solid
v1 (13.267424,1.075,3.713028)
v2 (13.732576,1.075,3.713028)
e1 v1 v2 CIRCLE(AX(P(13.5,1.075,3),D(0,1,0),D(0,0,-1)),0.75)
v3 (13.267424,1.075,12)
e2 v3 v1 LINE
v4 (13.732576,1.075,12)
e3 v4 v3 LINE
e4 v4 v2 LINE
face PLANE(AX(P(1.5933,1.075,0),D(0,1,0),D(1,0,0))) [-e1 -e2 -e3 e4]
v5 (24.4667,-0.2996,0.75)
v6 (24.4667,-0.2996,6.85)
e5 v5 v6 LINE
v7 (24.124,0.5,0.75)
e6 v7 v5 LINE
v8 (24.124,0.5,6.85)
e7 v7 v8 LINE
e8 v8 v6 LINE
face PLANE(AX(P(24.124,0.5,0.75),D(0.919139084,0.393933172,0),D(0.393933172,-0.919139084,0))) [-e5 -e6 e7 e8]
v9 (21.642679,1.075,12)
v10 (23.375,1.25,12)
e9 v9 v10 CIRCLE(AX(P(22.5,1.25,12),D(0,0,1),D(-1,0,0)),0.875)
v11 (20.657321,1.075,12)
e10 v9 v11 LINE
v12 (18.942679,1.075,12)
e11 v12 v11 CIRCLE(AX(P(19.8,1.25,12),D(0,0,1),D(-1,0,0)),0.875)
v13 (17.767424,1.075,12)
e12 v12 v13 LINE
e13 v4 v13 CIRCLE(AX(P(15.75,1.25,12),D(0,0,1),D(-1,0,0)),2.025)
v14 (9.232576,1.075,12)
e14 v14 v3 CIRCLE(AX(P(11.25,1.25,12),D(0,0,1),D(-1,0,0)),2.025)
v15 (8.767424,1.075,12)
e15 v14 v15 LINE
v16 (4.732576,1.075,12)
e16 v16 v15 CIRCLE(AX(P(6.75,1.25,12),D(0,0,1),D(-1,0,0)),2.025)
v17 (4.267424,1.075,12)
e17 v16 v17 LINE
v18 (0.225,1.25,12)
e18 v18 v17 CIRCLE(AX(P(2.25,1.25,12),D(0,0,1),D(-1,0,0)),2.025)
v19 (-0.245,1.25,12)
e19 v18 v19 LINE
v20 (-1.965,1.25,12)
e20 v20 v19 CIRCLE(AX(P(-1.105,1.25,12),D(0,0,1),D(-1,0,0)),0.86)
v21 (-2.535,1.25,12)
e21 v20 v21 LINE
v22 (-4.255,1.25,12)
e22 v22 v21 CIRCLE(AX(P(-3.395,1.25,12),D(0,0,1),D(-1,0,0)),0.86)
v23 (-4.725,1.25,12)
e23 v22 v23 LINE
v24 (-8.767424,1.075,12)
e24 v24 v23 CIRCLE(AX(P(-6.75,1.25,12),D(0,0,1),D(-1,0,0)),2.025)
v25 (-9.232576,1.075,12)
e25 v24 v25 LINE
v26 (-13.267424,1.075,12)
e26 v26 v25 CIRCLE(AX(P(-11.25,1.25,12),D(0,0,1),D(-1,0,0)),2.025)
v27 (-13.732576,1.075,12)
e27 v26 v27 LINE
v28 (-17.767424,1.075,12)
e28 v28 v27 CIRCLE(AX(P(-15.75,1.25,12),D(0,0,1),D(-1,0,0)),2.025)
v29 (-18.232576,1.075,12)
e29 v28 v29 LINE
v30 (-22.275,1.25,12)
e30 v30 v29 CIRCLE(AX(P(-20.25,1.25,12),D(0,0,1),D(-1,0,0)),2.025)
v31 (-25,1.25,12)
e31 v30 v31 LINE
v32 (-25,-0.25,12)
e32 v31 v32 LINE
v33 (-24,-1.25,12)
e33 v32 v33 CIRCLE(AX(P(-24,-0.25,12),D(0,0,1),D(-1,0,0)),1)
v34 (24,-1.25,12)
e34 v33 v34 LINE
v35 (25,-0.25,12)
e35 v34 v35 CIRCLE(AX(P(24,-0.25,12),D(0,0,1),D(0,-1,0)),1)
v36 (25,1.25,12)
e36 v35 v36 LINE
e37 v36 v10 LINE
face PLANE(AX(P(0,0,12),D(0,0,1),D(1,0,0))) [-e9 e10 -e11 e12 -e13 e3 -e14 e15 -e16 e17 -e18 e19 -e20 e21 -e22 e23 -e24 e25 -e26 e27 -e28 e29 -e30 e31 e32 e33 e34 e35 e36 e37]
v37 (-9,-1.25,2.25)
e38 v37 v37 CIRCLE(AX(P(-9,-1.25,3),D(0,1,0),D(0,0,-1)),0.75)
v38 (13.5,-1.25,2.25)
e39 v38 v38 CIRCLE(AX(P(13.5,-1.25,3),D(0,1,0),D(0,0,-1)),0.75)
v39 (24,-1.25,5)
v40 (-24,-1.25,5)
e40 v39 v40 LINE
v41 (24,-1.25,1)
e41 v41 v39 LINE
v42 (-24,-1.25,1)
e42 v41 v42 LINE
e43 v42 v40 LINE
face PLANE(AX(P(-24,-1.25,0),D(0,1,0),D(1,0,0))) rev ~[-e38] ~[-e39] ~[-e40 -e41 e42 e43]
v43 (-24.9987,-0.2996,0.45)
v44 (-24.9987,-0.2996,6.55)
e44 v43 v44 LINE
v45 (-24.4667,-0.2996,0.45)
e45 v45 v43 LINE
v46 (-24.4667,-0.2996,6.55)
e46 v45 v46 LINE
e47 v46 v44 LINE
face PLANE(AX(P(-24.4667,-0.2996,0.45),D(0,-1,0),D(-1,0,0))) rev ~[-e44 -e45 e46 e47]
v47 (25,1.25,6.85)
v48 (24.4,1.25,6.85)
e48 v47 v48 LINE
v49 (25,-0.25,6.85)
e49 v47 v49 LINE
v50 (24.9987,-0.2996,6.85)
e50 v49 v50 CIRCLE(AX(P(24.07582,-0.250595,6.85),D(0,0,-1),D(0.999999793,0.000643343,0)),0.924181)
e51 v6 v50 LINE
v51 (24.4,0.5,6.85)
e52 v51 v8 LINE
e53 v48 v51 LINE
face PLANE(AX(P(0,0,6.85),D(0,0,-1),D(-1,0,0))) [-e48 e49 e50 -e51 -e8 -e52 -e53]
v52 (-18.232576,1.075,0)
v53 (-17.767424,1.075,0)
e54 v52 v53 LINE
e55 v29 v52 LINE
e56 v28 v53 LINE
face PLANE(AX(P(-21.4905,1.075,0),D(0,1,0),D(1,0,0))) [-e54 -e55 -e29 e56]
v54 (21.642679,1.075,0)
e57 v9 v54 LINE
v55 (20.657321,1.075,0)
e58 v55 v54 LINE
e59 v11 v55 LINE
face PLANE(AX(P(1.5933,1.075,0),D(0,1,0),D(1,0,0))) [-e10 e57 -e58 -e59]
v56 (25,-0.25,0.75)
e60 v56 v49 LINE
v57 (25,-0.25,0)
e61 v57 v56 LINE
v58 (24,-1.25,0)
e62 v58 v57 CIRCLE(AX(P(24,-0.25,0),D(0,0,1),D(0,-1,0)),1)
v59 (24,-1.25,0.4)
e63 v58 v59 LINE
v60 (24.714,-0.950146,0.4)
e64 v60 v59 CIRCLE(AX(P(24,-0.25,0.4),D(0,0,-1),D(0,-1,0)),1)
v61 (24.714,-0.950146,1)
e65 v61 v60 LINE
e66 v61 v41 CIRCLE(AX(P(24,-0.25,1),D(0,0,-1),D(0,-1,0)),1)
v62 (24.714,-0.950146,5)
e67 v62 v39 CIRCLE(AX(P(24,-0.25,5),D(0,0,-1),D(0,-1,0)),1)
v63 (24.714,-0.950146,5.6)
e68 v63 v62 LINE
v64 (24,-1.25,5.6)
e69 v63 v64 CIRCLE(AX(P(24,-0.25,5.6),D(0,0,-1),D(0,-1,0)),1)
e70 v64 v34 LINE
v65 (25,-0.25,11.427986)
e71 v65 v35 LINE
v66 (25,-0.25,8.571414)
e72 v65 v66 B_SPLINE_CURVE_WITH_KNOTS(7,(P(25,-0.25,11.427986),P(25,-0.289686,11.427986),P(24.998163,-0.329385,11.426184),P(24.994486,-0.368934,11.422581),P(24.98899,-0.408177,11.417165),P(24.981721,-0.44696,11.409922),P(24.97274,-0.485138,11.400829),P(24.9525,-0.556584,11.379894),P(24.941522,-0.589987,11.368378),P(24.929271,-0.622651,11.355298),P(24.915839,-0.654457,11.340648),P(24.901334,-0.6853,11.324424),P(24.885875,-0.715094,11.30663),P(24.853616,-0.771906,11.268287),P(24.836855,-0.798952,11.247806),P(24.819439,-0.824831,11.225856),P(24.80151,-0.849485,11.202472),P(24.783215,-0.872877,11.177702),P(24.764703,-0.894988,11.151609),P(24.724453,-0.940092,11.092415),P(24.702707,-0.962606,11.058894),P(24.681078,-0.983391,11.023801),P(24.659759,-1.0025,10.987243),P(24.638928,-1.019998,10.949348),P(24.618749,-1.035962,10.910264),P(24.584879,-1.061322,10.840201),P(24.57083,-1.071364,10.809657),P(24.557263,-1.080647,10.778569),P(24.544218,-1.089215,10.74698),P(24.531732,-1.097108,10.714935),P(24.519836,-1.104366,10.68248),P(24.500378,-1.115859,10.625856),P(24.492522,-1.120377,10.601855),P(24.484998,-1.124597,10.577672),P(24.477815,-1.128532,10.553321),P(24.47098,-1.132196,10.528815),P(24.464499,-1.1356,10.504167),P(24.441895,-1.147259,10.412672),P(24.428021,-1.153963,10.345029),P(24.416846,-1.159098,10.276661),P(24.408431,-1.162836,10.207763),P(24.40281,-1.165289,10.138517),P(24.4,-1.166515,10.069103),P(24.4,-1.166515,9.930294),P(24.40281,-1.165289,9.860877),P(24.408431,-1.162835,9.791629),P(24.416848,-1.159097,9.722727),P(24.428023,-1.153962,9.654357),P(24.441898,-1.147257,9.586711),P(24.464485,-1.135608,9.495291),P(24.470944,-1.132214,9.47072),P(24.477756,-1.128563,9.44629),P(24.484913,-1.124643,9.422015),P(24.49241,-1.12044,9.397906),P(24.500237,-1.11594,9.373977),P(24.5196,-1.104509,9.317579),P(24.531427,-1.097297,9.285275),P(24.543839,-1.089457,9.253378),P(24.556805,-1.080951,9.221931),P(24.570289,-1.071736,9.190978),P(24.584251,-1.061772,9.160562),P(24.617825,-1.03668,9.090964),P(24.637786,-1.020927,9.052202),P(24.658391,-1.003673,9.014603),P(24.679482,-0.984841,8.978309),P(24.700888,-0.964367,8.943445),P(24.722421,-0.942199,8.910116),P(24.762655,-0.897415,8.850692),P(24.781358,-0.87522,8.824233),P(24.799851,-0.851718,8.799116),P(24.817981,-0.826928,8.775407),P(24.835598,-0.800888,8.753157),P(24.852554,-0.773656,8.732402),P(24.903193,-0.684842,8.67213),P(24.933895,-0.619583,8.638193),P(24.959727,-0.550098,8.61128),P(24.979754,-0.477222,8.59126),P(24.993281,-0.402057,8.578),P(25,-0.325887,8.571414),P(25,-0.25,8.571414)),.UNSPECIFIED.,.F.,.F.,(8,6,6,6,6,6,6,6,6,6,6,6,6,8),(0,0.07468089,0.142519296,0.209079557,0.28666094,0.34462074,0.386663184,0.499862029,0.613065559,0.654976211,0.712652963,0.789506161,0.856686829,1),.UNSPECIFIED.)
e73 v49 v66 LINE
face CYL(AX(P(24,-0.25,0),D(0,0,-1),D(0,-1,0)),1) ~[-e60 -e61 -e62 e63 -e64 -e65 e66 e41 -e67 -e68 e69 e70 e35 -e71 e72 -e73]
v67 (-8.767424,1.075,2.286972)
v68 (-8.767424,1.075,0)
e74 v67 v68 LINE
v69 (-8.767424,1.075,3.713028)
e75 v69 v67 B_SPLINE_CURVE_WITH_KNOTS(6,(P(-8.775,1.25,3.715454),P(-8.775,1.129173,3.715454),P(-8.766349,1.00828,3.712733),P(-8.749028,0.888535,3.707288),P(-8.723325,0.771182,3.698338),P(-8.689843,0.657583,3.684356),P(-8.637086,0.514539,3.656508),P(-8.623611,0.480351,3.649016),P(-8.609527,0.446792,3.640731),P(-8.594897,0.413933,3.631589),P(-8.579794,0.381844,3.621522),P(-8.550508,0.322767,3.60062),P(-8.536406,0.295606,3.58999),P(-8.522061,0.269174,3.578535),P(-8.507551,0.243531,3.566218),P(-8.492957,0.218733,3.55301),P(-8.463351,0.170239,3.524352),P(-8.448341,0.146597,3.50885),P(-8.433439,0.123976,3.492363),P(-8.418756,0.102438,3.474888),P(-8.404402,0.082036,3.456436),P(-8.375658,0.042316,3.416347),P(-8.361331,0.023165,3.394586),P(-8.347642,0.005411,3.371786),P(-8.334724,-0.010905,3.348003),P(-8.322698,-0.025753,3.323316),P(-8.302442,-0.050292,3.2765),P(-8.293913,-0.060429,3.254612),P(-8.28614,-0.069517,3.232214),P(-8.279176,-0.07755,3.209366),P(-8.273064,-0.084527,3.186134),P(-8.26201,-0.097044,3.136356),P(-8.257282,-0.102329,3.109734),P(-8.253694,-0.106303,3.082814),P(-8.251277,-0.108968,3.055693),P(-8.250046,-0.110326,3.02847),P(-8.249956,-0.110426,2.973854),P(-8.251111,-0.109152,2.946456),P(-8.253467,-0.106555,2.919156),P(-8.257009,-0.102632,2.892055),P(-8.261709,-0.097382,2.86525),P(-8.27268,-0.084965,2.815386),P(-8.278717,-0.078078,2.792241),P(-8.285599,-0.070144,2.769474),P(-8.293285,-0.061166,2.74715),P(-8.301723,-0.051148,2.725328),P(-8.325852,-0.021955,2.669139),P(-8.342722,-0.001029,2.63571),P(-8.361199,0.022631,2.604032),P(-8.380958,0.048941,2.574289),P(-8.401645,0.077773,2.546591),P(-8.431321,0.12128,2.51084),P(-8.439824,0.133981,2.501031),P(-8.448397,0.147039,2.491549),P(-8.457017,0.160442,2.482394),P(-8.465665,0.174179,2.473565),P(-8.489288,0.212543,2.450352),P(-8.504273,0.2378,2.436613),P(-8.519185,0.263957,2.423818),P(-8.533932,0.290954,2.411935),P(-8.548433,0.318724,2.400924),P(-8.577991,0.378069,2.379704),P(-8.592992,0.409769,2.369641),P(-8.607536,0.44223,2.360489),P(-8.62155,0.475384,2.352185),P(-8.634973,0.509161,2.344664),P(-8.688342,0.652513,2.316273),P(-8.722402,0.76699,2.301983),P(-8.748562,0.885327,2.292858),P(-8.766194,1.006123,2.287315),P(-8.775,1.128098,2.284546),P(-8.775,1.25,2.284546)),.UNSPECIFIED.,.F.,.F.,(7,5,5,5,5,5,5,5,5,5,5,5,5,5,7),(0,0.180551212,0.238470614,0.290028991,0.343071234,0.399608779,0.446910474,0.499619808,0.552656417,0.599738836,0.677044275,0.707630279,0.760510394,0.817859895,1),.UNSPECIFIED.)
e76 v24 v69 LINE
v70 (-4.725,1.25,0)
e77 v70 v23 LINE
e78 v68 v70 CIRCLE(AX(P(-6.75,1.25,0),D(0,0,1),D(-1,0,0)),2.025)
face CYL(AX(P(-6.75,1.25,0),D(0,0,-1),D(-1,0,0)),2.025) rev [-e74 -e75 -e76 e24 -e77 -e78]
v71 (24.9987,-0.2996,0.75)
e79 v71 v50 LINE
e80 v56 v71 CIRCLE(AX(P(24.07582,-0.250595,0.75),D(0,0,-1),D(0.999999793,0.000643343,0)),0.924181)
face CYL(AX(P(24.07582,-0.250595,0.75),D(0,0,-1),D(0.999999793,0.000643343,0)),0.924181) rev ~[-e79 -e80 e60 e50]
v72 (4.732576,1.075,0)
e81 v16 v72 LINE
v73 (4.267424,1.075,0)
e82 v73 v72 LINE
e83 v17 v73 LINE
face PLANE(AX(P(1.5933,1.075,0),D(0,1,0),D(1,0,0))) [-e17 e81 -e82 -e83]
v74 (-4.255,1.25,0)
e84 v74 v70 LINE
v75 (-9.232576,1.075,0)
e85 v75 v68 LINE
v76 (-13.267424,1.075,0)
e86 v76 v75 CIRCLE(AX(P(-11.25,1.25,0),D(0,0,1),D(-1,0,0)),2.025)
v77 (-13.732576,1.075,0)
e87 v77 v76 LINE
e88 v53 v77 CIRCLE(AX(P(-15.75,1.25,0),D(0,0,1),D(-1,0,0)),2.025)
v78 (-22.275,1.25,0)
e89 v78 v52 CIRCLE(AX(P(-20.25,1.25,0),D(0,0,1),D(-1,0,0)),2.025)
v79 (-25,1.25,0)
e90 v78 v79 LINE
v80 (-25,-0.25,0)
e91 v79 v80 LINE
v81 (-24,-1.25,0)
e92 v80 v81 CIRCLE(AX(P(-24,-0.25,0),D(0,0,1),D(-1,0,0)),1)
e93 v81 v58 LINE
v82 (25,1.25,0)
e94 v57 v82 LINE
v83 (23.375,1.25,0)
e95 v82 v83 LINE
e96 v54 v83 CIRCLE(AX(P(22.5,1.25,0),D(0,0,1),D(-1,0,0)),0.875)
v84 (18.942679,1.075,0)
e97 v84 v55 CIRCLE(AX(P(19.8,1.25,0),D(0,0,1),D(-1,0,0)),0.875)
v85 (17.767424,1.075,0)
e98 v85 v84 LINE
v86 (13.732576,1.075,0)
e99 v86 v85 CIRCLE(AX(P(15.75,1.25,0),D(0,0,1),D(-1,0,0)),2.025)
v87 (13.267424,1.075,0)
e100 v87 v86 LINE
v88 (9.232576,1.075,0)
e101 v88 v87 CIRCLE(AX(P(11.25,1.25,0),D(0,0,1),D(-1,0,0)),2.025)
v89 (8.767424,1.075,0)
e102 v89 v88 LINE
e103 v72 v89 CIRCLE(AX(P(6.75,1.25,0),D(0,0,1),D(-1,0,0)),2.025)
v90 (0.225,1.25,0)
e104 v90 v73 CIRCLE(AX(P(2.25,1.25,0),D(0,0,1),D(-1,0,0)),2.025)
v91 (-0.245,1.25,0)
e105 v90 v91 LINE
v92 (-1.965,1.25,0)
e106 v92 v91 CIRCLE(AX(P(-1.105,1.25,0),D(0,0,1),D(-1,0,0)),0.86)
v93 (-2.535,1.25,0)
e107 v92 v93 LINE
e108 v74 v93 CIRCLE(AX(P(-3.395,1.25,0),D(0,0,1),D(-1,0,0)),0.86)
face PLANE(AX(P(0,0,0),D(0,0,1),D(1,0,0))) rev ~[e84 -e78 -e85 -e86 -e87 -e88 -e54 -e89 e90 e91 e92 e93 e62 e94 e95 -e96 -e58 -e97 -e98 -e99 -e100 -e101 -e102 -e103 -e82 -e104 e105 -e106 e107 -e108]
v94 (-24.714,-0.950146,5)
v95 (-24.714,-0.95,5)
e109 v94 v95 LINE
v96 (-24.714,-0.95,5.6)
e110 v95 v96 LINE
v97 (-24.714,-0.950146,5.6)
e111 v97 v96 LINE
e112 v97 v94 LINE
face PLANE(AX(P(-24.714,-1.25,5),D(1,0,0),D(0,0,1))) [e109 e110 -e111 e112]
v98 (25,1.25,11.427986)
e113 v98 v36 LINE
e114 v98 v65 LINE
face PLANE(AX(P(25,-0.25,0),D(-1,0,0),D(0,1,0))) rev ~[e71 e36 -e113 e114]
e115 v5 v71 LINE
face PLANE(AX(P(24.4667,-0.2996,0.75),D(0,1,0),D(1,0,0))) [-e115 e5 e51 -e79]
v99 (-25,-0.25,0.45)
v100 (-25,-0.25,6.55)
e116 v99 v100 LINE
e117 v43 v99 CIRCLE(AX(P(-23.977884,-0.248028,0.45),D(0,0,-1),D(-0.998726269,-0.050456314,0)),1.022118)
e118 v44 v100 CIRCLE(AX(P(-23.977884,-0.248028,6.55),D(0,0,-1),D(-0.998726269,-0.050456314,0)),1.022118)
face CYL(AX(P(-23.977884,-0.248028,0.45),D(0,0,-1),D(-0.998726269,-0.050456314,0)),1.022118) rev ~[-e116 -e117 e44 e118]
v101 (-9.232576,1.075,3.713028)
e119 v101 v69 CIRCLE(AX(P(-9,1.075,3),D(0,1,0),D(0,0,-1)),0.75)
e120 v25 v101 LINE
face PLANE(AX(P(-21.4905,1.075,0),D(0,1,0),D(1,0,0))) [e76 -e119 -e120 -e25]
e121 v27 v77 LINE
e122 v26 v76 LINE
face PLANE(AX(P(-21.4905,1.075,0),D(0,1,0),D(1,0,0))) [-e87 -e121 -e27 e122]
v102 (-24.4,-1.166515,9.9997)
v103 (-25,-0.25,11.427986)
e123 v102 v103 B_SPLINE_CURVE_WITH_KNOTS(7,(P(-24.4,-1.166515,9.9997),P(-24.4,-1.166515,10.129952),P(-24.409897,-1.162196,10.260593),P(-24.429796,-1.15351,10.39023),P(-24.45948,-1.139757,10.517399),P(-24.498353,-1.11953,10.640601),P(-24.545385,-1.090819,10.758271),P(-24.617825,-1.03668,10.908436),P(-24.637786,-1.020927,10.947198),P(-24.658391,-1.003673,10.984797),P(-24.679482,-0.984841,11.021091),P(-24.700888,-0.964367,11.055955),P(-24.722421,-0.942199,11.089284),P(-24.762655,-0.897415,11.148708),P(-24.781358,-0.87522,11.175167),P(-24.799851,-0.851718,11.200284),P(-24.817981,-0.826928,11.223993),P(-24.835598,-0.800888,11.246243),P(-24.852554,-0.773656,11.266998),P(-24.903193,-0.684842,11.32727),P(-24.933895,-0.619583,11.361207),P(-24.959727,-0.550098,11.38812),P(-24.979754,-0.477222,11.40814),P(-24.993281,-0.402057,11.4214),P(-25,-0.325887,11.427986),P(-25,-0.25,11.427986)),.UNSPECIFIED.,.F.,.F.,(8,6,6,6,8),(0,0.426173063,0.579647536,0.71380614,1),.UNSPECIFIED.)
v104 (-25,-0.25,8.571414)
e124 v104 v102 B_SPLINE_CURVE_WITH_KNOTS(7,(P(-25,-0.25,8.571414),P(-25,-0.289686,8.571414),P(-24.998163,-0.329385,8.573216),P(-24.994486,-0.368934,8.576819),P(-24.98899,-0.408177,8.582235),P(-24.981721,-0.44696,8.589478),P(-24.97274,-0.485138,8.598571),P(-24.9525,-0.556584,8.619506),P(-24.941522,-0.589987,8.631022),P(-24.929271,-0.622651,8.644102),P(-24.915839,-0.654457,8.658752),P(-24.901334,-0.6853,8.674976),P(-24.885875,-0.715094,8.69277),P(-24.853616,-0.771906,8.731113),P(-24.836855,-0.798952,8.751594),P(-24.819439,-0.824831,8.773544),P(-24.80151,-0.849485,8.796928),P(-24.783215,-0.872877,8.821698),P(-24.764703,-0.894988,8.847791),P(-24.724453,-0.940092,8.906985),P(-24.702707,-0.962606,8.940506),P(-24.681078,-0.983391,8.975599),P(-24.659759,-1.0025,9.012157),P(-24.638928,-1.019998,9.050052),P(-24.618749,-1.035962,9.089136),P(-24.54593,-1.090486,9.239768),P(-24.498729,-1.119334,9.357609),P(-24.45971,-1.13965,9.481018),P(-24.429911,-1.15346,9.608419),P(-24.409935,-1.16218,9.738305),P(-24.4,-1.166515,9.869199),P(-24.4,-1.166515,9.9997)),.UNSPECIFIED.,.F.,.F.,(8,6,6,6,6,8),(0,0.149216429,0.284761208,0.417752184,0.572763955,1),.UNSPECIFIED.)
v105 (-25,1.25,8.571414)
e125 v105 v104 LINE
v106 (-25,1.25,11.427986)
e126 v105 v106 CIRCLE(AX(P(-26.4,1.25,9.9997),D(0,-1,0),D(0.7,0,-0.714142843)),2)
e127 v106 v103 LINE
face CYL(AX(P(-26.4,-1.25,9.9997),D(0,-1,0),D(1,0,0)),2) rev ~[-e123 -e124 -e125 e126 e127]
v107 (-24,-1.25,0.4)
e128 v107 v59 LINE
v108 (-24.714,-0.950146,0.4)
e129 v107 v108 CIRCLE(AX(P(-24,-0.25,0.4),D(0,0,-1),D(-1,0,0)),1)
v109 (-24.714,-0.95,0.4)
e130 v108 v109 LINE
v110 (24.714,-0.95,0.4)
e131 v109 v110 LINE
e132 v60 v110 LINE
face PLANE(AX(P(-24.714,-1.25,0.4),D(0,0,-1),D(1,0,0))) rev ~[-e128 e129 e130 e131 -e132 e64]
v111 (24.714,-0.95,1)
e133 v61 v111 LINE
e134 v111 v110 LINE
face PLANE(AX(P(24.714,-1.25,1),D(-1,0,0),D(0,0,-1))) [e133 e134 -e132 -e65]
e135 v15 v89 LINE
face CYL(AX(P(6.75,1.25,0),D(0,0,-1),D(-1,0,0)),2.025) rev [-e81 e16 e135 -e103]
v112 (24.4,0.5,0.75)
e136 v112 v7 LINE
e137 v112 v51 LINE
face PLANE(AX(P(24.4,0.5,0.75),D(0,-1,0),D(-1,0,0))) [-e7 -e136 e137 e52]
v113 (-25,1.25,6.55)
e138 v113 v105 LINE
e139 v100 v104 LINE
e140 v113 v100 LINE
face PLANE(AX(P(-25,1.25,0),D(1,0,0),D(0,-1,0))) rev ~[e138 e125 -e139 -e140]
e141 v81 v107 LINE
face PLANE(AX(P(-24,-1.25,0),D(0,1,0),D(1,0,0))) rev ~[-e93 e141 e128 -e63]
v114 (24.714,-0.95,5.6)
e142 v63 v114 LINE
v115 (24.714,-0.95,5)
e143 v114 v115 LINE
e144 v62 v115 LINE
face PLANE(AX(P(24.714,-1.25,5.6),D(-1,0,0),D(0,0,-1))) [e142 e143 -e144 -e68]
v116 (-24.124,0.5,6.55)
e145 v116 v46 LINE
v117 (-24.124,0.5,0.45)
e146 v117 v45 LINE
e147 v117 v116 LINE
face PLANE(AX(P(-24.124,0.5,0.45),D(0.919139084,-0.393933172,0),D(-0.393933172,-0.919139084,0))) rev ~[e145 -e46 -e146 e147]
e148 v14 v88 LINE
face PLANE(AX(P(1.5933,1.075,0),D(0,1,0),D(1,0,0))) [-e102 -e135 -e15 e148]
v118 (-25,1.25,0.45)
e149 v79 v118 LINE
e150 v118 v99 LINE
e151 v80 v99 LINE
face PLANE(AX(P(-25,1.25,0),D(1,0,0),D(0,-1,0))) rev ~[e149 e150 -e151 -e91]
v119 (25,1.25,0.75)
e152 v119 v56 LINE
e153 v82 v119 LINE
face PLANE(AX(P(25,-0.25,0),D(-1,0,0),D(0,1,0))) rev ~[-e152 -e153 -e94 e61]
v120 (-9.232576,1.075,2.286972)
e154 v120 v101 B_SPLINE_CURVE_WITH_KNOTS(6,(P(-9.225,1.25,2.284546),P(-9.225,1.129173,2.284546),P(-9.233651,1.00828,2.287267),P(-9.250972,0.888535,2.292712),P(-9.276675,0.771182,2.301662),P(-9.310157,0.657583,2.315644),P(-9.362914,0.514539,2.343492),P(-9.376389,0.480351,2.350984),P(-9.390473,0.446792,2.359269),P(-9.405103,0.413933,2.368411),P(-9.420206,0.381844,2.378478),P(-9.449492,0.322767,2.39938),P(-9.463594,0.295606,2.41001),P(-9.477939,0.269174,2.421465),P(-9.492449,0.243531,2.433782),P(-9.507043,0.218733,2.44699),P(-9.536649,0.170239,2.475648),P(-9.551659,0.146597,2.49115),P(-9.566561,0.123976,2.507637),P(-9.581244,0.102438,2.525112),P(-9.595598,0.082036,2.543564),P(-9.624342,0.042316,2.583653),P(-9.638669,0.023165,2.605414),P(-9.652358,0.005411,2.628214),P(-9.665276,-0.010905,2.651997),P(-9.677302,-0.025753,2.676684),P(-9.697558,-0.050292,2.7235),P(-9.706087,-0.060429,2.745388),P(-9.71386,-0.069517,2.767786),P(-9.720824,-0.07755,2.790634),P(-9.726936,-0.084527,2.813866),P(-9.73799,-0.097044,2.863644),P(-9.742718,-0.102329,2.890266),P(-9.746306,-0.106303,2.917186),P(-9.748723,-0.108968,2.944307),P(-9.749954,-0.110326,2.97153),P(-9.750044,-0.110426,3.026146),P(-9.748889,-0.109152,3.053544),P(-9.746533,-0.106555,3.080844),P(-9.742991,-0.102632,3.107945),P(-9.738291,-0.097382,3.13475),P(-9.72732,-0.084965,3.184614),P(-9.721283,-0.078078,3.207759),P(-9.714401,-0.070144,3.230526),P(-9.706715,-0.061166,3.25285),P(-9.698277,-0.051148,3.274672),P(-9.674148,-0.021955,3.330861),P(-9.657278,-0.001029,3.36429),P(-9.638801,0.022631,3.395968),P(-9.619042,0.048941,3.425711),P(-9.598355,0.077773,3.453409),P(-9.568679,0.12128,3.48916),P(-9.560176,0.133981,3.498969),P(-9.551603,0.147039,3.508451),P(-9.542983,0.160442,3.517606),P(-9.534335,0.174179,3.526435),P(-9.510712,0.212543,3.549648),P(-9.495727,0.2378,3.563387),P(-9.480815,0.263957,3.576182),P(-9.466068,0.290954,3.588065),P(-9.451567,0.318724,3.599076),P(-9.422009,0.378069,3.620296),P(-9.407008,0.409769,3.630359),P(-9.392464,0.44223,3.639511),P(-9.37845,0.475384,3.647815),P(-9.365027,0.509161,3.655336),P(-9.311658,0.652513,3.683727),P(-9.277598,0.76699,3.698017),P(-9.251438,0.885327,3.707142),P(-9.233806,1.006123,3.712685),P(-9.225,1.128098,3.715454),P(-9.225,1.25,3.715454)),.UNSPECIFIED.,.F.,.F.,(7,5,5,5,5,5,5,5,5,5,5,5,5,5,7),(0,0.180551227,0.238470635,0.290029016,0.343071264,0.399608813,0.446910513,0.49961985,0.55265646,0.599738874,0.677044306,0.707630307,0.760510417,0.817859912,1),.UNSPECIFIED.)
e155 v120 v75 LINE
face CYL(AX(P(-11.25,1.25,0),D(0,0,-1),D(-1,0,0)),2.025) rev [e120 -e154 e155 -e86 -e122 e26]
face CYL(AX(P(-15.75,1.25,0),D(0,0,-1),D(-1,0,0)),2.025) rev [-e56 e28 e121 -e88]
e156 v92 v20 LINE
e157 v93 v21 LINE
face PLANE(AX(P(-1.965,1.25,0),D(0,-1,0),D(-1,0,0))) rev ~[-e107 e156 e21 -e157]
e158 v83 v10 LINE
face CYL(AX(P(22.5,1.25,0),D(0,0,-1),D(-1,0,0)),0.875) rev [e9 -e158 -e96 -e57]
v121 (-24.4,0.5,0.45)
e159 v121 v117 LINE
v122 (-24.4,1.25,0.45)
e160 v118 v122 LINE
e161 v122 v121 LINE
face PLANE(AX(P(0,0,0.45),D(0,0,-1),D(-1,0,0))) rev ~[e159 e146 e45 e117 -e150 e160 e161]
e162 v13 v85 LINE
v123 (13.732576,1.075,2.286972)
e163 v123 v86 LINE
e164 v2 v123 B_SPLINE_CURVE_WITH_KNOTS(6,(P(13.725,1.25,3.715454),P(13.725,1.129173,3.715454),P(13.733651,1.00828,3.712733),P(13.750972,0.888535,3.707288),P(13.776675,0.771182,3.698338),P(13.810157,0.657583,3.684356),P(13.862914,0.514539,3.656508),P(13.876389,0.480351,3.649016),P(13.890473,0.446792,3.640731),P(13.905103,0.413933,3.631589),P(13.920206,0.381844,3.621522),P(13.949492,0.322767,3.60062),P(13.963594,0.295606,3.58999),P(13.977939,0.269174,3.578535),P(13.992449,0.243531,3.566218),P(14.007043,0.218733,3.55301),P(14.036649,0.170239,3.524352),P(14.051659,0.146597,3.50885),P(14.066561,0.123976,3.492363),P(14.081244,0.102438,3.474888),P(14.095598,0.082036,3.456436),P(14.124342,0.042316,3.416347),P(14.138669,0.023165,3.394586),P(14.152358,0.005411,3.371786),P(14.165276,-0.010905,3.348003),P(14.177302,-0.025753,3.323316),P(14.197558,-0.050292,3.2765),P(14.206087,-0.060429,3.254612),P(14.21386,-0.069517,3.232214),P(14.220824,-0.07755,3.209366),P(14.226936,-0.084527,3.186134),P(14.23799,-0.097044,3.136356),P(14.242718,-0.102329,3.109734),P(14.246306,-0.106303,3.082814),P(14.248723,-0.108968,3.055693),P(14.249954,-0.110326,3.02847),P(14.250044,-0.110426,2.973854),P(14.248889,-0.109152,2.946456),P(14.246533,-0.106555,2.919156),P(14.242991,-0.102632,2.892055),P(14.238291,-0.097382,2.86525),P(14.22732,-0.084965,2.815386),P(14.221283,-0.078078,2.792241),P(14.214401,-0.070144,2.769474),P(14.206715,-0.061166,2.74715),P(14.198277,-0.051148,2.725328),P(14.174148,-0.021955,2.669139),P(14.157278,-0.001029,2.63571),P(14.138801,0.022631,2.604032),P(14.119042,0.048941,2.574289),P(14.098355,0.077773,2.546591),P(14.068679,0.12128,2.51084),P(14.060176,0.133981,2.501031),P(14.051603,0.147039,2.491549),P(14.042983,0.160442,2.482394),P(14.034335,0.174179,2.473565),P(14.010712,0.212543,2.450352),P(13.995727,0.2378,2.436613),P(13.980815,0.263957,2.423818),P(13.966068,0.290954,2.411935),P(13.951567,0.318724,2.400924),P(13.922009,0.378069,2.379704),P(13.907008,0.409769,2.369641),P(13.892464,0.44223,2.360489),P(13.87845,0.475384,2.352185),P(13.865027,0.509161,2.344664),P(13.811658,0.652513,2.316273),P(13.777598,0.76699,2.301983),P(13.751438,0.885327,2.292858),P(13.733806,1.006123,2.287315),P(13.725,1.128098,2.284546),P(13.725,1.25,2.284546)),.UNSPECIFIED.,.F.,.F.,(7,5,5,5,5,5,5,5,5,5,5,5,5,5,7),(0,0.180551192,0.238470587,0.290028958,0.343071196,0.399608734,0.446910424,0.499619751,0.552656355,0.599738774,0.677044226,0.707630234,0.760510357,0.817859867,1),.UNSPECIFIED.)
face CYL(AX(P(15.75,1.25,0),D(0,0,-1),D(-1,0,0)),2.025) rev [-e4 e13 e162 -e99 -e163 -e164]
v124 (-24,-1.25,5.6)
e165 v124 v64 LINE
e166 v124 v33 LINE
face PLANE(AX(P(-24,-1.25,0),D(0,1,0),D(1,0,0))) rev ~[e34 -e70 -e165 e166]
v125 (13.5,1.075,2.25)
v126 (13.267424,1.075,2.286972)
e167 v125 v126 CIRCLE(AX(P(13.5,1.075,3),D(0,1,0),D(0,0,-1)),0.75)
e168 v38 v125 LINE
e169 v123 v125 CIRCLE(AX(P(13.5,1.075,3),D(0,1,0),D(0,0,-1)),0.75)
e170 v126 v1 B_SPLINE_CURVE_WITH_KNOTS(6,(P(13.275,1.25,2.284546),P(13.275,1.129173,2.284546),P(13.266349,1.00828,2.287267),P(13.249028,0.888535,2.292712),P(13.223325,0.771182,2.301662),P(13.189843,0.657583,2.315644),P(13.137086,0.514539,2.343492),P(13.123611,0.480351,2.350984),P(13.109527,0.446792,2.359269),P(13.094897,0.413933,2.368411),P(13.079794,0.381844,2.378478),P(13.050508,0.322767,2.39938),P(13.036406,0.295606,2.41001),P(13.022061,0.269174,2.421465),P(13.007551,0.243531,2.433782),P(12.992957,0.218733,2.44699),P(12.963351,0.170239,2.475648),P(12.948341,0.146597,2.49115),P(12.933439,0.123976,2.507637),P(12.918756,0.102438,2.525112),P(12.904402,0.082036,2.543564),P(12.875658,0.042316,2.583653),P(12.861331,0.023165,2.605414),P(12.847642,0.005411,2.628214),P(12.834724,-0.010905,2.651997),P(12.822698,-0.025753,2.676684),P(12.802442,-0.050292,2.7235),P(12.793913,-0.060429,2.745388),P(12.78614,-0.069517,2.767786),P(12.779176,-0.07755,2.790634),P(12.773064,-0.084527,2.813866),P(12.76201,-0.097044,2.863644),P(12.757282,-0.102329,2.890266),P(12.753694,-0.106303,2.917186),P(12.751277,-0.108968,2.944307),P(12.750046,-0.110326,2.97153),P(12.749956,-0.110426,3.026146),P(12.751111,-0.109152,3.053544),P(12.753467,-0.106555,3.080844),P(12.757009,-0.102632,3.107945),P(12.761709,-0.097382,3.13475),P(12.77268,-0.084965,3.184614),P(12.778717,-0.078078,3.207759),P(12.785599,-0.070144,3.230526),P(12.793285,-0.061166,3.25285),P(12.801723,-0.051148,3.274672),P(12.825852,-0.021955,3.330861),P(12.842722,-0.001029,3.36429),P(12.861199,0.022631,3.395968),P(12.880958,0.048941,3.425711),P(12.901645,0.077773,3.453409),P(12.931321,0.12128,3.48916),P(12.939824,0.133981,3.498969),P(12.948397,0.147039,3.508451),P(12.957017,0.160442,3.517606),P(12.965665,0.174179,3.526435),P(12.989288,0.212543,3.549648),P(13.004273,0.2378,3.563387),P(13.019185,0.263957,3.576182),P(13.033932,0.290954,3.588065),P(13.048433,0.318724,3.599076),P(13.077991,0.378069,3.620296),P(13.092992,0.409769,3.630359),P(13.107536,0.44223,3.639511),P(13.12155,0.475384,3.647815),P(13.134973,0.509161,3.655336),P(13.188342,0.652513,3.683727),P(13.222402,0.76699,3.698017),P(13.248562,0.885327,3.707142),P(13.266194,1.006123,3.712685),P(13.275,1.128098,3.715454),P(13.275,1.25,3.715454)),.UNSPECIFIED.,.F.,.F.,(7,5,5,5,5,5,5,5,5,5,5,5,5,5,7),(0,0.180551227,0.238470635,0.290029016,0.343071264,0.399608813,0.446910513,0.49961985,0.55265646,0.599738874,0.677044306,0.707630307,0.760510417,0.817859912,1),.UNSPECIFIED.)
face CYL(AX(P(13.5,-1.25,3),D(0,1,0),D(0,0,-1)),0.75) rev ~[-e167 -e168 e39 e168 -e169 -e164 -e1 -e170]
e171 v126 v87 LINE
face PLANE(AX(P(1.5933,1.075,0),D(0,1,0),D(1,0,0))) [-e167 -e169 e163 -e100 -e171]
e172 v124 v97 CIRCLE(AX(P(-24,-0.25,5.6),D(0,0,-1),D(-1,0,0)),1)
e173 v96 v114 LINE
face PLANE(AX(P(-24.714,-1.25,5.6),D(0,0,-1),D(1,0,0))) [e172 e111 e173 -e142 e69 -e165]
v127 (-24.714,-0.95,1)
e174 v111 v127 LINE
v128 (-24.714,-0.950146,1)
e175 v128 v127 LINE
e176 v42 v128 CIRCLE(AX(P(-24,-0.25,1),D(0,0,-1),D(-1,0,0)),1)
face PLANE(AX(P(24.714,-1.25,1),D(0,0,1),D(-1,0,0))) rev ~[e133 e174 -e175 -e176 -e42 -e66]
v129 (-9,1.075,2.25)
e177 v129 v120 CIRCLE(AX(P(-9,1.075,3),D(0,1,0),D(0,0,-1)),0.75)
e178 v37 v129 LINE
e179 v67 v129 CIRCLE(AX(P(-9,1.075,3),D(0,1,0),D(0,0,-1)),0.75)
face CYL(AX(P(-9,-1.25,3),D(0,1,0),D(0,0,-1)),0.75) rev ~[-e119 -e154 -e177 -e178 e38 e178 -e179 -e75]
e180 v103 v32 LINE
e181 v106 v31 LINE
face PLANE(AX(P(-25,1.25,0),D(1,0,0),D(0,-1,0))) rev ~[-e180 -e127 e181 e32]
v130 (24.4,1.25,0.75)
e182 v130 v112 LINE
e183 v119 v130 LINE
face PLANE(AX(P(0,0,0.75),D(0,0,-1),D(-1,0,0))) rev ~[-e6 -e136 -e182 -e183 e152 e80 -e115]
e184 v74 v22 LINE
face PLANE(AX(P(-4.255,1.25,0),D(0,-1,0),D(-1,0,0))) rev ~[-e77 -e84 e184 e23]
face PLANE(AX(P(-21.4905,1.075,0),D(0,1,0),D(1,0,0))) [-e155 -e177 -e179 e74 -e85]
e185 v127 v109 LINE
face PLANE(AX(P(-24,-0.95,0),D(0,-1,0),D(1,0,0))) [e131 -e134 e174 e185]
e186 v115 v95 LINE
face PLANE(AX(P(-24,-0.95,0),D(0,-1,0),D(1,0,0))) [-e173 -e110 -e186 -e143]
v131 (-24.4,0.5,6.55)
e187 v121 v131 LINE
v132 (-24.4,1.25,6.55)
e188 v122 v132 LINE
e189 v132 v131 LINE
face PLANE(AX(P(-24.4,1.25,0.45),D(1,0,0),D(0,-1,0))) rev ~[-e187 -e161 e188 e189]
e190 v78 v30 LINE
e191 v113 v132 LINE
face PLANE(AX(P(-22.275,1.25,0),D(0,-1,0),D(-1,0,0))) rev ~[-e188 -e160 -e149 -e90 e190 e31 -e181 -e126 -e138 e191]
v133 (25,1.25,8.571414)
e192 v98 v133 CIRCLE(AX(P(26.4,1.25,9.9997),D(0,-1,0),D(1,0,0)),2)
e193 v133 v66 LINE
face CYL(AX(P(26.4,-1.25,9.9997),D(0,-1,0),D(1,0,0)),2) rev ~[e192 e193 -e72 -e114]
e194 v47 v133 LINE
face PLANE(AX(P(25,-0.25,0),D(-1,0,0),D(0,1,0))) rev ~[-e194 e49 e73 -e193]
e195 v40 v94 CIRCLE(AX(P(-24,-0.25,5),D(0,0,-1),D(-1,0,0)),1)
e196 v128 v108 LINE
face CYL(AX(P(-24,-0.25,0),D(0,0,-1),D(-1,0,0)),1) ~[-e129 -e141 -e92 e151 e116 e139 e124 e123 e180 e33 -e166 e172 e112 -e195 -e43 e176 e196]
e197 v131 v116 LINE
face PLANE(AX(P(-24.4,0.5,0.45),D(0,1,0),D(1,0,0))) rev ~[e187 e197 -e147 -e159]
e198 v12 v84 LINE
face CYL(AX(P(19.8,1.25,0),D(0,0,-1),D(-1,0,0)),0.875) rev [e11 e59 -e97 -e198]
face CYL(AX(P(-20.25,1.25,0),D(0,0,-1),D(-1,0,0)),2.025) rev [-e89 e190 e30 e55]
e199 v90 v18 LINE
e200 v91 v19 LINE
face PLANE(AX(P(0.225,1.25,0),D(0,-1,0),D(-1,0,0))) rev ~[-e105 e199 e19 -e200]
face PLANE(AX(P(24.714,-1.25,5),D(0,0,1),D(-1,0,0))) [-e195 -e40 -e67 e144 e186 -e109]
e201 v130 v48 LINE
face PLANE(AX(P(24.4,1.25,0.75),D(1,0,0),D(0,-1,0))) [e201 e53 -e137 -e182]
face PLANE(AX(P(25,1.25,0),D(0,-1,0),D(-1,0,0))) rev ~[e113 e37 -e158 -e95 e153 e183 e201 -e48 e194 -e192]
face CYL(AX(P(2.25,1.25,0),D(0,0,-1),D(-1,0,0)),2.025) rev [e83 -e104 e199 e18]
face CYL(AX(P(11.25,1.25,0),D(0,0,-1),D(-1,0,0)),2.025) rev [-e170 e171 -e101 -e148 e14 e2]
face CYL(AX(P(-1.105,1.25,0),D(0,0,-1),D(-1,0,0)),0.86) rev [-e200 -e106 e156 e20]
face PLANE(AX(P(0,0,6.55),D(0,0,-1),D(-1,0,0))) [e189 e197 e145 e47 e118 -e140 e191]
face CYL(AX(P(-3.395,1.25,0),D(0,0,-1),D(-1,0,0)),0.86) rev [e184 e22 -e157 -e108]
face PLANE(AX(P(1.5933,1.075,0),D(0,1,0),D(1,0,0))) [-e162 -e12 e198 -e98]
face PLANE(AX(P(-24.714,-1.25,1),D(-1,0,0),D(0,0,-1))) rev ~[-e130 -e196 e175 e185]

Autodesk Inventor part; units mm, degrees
sketch "Sketch1" plane through (0, 0, 0) normal (0, 0, 1) x (1, 0, 0)
  line L0 (-25, 1.25) -> (-25, -0.25)
  line L1 (-24, -1.25) -> (24, -1.25)
  line L2 (25, -0.25) -> (25, 1.25)
  line L3 (25, 1.25) -> (-25, 1.25)
  line L4 (0, 0) -> (0, 5.9906) construction
  line L5 (0, 0) -> (2.2727, 0) construction
  arc A0 (-17.775, 1.25) -> (-13.725, 1.25) centre (-15.75, 1.25) ccw
  arc A1 (-13.275, 1.25) -> (-9.225, 1.25) centre (-11.25, 1.25) ccw
  arc A2 (-8.775, 1.25) -> (-4.725, 1.25) centre (-6.75, 1.25) ccw
  arc A3 (-4.255, 1.25) -> (-2.535, 1.25) centre (-3.395, 1.25) ccw
  arc A4 (-1.965, 1.25) -> (-0.245, 1.25) centre (-1.105, 1.25) ccw
  arc A5 (0.225, 1.25) -> (4.275, 1.25) centre (2.25, 1.25) ccw
  arc A6 (4.725, 1.25) -> (8.775, 1.25) centre (6.75, 1.25) ccw
  arc A7 (9.225, 1.25) -> (13.275, 1.25) centre (11.25, 1.25) ccw
  arc A8 (13.725, 1.25) -> (17.775, 1.25) centre (15.75, 1.25) ccw
  arc A9 (18.925, 1.25) -> (20.675, 1.25) centre (19.8, 1.25) ccw
  arc A10 (21.625, 1.25) -> (23.375, 1.25) centre (22.5, 1.25) ccw
  arc A11 (-25, -0.25) -> (-24, -1.25) centre (-24, -0.25) ccw
  arc A12 (24, -1.25) -> (25, -0.25) centre (24, -0.25) ccw
  arc A13 (-22.275, 1.25) -> (-18.225, 1.25) centre (-20.25, 1.25) ccw
  point P0 (-25, -1.25)
  point P1 (25, -1.25)
  dimension "d0" = 2.5
  dimension "d1" = 50
  dimension "d2" = 90
  dimension "d4" = 4.05
  dimension "d5" = 4.05
  dimension "d6" = 4.05
  dimension "d7" = 1.72
  dimension "d8" = 1.72
  dimension "d9" = 4.05
  dimension "d10" = 4.05
  dimension "d11" = 4.05
  dimension "d12" = 4.05
  dimension "d13" = 1.75
  dimension "d14" = 1.75
  dimension "d16" = 4.5
  dimension "d17" = 4.5
  dimension "d18" = 3.355
  dimension "d19" = 2.29
  dimension "d20" = 3.355
  dimension "d21" = 4.5
  dimension "d22" = 4.5
  dimension "d23" = 4.5
  dimension "d25" = 2.7
  dimension "d26" = 1
  dimension "d51" = 2.5
  dimension "d52" = 4.05
  dimension "d53" = 4.5
  dimension "d101" = 4.05
extrude "Extrusion1" add sketch "Sketch1" along normal blind 12 contours L3 A13 A0 A1 A2 A3 A4 A5 A6 A7 A8 A9 A10 L2 A12 L1 A11 L0
sketch "Sketch2" plane through (-24, -1.25, 0) normal (0, -1, 0) x (1, 0, 0)
  line L0 (49, 0) -> (49, 12) projected
  line L1 (-1, 0) -> (-1, 12) projected
  line L2 (0, 0) -> (48, 0) projected
  line L3 (-0.714, 0.4) -> (48.714, 0.4)
  line L4 (48.714, 1) -> (-0.714, 1)
  line L5 (48.714, 5) -> (-0.714, 5)
  line L6 (-0.714, 5) -> (-0.714, 5.6)
  line L7 (-0.714, 5.6) -> (48.714, 5.6)
  line L8 (48.714, 5.6) -> (48.714, 5)
  line L9 (-0.714, 1) -> (-0.714, 0.4)
  line L10 (48.714, 1) -> (48.714, 0.4)
  point P0 (24, 0)
  point P1 (37.5, 3)
  point P2 (15, 3)
  point P3 (48.714, 5.3)
  dimension "d29" = 11.5
  dimension "d30" = 22.5
  dimension "d32" = 3
  dimension "d33" = 0.6
  dimension "d34" = 0.6
  dimension "d35" = 0.4
  dimension "d36" = 4
  dimension "d48" = 0.286
  dimension "d49" = 0.6
  dimension "d50" = 0.286
hole "Hole1" at (13.5, -1.25, 3) at (-9, -1.25, 3) direction (0, 1, 0) diameter 1.5 end through all
extrude "Extrusion3" cut sketch "Sketch2" against normal blind 0.3
sketch "Sketch3" plane through (0, 0, 0) normal (0, 0, -1) x (-1, 0, 0)
  line L0 (-23, 1.25) -> (-1.5933, 1.25)
  line L1 (-1.5933, 1.25) -> (-1.5933, 1.075)
  line L2 (-1.5933, 1.075) -> (-23, 1.075)
  line L3 (-23, 1.075) -> (-23, 1.25)
  line L4 (7.4905, 1.25) -> (21.4905, 1.25)
  line L5 (21.4905, 1.25) -> (21.4905, 1.075)
  line L6 (21.4905, 1.075) -> (7.4905, 1.075)
  line L7 (7.4905, 1.075) -> (7.4905, 1.25)
  line L8 (8.775, 1.25) -> (9.225, 1.25) projected
  line L9 (-25, -0.25) -> (-25, 1.25) projected
  line L10 (25, 1.25) -> (25, -0.25) projected
  point P0 (0, 0)
  point P1 (9, 1.25)
  dimension "d54" = 0.175
  dimension "d55" = 0.175
  dimension "d56" = 14
  dimension "d57" = 21.4067
  dimension "d58" = 2
  dimension "d59" = 3.5095
extrude "Extrusion4" cut sketch "Sketch3" against normal blind 25.3
ref_plane "Work Plane1" through (0, 0, 1.25) normal (0, 0, -1) x (-1, 0, 0)
sketch "Sketch5" plane through (-24, -1.25, 12) normal (0, -1, 0) x (1, 0, 0)
  circle A0 centre (-2.4, -2.0003) radius 2
  circle A1 centre (50.4, -2.0003) radius 2
  line L0 (-1, -12) -> (-1, 0) projected
  line L1 (-1, 0) -> (-1, -0.572)
  line L2 (49, -12) -> (49, 0) projected
  line L3 (49, 0) -> (49, -0.572)
  point P0 (24, -12)
  dimension "d71" = 4
  dimension "d72" = 4
  dimension "d73" = 0.572
  dimension "d74" = 0.572
  dimension "d75" = 1.4
  dimension "d76" = 1.4
extrude "Extrusion6" cut sketch "Sketch5" against normal blind 4
ref_plane "Work Plane2" through (0, 0, 0.75) normal (0, 0, -1) x (-1, 0, 0)
sketch "Sketch6" plane through (0, 0, 0.75) normal (0, 0, -1) x (-1, 0, 0)
  line L0 (-25, 1.25) -> (-23.375, 1.25) projected
  line L1 (-25, 1.25) -> (-24.4, 1.25)
  line L2 (-24.4, 1.25) -> (-24.4, 0.5)
  line L3 (-24.4, 0.5) -> (-24.124, 0.5)
  line L4 (-24.124, 0.5) -> (-24.4667, -0.2996)
  line L5 (-24.124, 0.5) -> (-23.254, 0.5) construction
  line L6 (-24.4667, -0.2996) -> (-24.9987, -0.2996)
  line L7 (-24.4667, -0.2996) -> (-24.4, -0.2996) construction
  line L8 (-25, 1.25) -> (-25, -0.25) projected
  line L9 (-25, -0.25) -> (-25, 1.25) projected
  line L10 (-25, 1.25) -> (-25, -0.25)
  line L11 (-24.4, -0.2996) -> (-24.365, -0.2996)
  arc A0 (-24.714, -0.9501) -> (-24, -1.25) centre (-24, -0.25) ccw projected
  arc A1 (-25, -0.25) -> (-24.9987, -0.2996) centre (-24.0293, -0.25) ccw
  point P0 (0, 0)
  dimension "d80" = 0.6
  dimension "d81" = 0.75
  dimension "d82" = 0.276
  dimension "d83" = 113.2
  dimension "d84" = 0.87
  dimension "d86" = 0.532
  dimension "d87" = 180
extrude "Extrusion7" cut sketch "Sketch6" against normal blind 6.1
ref_plane "Work Plane3" through (0, 0, 0.45) normal (0, 0, -1) x (-1, 0, 0)
sketch "Sketch7" plane through (0, 0, 0.45) normal (0, 0, -1) x (-1, 0, 0)
  line L0 (-25, 1.25) -> (-24.25, 1.25)
  line L1 (-25, 1.25) -> (-24.4, 1.25)
  line L2 (-24.4, 1.25) -> (-24.4, 0.5)
  line L3 (-24.4, 0.5) -> (-24.124, 0.5)
  line L4 (-24.124, 0.5) -> (-24.4667, -0.2996)
  line L5 (-24.124, 0.5) -> (-23.254, 0.5) construction
  line L6 (-24.4667, -0.2996) -> (-24.9987, -0.2996)
  line L7 (-24.4667, -0.2996) -> (-24.4, -0.2996) construction
  line L8 (-25, 1.25) -> (-25, -0.25)
  line L9 (-25, -0.25) -> (-25, 1.25)
  line L10 (-25, 1.25) -> (-25, -0.25)
  line L11 (-24.4, -0.2996) -> (-24.365, -0.2996)
  arc A0 (-24.714, -0.9501) -> (-24, -1.25) centre (-24, -0.25) ccw
  arc A1 (-25, -0.25) -> (-24.9987, -0.2996) centre (-24.0293, -0.25) ccw
  line L12 (0, 0) -> (0, -6.4481) construction
  line L13 (25, 1.25) -> (24.25, 1.25)
  line L14 (24.4, 1.25) -> (24.4, 0.5)
  line L15 (24.4, 0.5) -> (24.124, 0.5)
  line L16 (24.124, 0.5) -> (23.254, 0.5) construction
  line L17 (24.4, -0.2996) -> (24.365, -0.2996)
  line L18 (24.4667, -0.2996) -> (24.4, -0.2996) construction
  line L19 (24.124, 0.5) -> (24.4667, -0.2996)
  line L20 (24.4667, -0.2996) -> (24.9987, -0.2996)
  arc A2 (24.9987, -0.2996) -> (25, -0.25) centre (24.0293, -0.25) ccw
  line L21 (25, 1.25) -> (25, -0.25)
  line L22 (25, 1.25) -> (25, -0.25)
  line L23 (25, -0.25) -> (25, 1.25)
  line L24 (25, 1.25) -> (24.4, 1.25)
  point P0 (24, -0.25)
  point P1 (24, -0.25)
  dimension "d92" = 0.6
  dimension "d93" = 0.75
  dimension "d94" = 0.276
  dimension "d95" = 113.2
  dimension "d96" = 0.87
  dimension "d97" = 0.532
  dimension "d98" = 180
extrude "Extrusion8" cut sketch "Sketch7" against normal blind 6.1 contours L21 A2 L20 L19 L15 L14 L13
properties part number "3d_LM - Pinza 4" material "PA12 SLS 3D Print"
